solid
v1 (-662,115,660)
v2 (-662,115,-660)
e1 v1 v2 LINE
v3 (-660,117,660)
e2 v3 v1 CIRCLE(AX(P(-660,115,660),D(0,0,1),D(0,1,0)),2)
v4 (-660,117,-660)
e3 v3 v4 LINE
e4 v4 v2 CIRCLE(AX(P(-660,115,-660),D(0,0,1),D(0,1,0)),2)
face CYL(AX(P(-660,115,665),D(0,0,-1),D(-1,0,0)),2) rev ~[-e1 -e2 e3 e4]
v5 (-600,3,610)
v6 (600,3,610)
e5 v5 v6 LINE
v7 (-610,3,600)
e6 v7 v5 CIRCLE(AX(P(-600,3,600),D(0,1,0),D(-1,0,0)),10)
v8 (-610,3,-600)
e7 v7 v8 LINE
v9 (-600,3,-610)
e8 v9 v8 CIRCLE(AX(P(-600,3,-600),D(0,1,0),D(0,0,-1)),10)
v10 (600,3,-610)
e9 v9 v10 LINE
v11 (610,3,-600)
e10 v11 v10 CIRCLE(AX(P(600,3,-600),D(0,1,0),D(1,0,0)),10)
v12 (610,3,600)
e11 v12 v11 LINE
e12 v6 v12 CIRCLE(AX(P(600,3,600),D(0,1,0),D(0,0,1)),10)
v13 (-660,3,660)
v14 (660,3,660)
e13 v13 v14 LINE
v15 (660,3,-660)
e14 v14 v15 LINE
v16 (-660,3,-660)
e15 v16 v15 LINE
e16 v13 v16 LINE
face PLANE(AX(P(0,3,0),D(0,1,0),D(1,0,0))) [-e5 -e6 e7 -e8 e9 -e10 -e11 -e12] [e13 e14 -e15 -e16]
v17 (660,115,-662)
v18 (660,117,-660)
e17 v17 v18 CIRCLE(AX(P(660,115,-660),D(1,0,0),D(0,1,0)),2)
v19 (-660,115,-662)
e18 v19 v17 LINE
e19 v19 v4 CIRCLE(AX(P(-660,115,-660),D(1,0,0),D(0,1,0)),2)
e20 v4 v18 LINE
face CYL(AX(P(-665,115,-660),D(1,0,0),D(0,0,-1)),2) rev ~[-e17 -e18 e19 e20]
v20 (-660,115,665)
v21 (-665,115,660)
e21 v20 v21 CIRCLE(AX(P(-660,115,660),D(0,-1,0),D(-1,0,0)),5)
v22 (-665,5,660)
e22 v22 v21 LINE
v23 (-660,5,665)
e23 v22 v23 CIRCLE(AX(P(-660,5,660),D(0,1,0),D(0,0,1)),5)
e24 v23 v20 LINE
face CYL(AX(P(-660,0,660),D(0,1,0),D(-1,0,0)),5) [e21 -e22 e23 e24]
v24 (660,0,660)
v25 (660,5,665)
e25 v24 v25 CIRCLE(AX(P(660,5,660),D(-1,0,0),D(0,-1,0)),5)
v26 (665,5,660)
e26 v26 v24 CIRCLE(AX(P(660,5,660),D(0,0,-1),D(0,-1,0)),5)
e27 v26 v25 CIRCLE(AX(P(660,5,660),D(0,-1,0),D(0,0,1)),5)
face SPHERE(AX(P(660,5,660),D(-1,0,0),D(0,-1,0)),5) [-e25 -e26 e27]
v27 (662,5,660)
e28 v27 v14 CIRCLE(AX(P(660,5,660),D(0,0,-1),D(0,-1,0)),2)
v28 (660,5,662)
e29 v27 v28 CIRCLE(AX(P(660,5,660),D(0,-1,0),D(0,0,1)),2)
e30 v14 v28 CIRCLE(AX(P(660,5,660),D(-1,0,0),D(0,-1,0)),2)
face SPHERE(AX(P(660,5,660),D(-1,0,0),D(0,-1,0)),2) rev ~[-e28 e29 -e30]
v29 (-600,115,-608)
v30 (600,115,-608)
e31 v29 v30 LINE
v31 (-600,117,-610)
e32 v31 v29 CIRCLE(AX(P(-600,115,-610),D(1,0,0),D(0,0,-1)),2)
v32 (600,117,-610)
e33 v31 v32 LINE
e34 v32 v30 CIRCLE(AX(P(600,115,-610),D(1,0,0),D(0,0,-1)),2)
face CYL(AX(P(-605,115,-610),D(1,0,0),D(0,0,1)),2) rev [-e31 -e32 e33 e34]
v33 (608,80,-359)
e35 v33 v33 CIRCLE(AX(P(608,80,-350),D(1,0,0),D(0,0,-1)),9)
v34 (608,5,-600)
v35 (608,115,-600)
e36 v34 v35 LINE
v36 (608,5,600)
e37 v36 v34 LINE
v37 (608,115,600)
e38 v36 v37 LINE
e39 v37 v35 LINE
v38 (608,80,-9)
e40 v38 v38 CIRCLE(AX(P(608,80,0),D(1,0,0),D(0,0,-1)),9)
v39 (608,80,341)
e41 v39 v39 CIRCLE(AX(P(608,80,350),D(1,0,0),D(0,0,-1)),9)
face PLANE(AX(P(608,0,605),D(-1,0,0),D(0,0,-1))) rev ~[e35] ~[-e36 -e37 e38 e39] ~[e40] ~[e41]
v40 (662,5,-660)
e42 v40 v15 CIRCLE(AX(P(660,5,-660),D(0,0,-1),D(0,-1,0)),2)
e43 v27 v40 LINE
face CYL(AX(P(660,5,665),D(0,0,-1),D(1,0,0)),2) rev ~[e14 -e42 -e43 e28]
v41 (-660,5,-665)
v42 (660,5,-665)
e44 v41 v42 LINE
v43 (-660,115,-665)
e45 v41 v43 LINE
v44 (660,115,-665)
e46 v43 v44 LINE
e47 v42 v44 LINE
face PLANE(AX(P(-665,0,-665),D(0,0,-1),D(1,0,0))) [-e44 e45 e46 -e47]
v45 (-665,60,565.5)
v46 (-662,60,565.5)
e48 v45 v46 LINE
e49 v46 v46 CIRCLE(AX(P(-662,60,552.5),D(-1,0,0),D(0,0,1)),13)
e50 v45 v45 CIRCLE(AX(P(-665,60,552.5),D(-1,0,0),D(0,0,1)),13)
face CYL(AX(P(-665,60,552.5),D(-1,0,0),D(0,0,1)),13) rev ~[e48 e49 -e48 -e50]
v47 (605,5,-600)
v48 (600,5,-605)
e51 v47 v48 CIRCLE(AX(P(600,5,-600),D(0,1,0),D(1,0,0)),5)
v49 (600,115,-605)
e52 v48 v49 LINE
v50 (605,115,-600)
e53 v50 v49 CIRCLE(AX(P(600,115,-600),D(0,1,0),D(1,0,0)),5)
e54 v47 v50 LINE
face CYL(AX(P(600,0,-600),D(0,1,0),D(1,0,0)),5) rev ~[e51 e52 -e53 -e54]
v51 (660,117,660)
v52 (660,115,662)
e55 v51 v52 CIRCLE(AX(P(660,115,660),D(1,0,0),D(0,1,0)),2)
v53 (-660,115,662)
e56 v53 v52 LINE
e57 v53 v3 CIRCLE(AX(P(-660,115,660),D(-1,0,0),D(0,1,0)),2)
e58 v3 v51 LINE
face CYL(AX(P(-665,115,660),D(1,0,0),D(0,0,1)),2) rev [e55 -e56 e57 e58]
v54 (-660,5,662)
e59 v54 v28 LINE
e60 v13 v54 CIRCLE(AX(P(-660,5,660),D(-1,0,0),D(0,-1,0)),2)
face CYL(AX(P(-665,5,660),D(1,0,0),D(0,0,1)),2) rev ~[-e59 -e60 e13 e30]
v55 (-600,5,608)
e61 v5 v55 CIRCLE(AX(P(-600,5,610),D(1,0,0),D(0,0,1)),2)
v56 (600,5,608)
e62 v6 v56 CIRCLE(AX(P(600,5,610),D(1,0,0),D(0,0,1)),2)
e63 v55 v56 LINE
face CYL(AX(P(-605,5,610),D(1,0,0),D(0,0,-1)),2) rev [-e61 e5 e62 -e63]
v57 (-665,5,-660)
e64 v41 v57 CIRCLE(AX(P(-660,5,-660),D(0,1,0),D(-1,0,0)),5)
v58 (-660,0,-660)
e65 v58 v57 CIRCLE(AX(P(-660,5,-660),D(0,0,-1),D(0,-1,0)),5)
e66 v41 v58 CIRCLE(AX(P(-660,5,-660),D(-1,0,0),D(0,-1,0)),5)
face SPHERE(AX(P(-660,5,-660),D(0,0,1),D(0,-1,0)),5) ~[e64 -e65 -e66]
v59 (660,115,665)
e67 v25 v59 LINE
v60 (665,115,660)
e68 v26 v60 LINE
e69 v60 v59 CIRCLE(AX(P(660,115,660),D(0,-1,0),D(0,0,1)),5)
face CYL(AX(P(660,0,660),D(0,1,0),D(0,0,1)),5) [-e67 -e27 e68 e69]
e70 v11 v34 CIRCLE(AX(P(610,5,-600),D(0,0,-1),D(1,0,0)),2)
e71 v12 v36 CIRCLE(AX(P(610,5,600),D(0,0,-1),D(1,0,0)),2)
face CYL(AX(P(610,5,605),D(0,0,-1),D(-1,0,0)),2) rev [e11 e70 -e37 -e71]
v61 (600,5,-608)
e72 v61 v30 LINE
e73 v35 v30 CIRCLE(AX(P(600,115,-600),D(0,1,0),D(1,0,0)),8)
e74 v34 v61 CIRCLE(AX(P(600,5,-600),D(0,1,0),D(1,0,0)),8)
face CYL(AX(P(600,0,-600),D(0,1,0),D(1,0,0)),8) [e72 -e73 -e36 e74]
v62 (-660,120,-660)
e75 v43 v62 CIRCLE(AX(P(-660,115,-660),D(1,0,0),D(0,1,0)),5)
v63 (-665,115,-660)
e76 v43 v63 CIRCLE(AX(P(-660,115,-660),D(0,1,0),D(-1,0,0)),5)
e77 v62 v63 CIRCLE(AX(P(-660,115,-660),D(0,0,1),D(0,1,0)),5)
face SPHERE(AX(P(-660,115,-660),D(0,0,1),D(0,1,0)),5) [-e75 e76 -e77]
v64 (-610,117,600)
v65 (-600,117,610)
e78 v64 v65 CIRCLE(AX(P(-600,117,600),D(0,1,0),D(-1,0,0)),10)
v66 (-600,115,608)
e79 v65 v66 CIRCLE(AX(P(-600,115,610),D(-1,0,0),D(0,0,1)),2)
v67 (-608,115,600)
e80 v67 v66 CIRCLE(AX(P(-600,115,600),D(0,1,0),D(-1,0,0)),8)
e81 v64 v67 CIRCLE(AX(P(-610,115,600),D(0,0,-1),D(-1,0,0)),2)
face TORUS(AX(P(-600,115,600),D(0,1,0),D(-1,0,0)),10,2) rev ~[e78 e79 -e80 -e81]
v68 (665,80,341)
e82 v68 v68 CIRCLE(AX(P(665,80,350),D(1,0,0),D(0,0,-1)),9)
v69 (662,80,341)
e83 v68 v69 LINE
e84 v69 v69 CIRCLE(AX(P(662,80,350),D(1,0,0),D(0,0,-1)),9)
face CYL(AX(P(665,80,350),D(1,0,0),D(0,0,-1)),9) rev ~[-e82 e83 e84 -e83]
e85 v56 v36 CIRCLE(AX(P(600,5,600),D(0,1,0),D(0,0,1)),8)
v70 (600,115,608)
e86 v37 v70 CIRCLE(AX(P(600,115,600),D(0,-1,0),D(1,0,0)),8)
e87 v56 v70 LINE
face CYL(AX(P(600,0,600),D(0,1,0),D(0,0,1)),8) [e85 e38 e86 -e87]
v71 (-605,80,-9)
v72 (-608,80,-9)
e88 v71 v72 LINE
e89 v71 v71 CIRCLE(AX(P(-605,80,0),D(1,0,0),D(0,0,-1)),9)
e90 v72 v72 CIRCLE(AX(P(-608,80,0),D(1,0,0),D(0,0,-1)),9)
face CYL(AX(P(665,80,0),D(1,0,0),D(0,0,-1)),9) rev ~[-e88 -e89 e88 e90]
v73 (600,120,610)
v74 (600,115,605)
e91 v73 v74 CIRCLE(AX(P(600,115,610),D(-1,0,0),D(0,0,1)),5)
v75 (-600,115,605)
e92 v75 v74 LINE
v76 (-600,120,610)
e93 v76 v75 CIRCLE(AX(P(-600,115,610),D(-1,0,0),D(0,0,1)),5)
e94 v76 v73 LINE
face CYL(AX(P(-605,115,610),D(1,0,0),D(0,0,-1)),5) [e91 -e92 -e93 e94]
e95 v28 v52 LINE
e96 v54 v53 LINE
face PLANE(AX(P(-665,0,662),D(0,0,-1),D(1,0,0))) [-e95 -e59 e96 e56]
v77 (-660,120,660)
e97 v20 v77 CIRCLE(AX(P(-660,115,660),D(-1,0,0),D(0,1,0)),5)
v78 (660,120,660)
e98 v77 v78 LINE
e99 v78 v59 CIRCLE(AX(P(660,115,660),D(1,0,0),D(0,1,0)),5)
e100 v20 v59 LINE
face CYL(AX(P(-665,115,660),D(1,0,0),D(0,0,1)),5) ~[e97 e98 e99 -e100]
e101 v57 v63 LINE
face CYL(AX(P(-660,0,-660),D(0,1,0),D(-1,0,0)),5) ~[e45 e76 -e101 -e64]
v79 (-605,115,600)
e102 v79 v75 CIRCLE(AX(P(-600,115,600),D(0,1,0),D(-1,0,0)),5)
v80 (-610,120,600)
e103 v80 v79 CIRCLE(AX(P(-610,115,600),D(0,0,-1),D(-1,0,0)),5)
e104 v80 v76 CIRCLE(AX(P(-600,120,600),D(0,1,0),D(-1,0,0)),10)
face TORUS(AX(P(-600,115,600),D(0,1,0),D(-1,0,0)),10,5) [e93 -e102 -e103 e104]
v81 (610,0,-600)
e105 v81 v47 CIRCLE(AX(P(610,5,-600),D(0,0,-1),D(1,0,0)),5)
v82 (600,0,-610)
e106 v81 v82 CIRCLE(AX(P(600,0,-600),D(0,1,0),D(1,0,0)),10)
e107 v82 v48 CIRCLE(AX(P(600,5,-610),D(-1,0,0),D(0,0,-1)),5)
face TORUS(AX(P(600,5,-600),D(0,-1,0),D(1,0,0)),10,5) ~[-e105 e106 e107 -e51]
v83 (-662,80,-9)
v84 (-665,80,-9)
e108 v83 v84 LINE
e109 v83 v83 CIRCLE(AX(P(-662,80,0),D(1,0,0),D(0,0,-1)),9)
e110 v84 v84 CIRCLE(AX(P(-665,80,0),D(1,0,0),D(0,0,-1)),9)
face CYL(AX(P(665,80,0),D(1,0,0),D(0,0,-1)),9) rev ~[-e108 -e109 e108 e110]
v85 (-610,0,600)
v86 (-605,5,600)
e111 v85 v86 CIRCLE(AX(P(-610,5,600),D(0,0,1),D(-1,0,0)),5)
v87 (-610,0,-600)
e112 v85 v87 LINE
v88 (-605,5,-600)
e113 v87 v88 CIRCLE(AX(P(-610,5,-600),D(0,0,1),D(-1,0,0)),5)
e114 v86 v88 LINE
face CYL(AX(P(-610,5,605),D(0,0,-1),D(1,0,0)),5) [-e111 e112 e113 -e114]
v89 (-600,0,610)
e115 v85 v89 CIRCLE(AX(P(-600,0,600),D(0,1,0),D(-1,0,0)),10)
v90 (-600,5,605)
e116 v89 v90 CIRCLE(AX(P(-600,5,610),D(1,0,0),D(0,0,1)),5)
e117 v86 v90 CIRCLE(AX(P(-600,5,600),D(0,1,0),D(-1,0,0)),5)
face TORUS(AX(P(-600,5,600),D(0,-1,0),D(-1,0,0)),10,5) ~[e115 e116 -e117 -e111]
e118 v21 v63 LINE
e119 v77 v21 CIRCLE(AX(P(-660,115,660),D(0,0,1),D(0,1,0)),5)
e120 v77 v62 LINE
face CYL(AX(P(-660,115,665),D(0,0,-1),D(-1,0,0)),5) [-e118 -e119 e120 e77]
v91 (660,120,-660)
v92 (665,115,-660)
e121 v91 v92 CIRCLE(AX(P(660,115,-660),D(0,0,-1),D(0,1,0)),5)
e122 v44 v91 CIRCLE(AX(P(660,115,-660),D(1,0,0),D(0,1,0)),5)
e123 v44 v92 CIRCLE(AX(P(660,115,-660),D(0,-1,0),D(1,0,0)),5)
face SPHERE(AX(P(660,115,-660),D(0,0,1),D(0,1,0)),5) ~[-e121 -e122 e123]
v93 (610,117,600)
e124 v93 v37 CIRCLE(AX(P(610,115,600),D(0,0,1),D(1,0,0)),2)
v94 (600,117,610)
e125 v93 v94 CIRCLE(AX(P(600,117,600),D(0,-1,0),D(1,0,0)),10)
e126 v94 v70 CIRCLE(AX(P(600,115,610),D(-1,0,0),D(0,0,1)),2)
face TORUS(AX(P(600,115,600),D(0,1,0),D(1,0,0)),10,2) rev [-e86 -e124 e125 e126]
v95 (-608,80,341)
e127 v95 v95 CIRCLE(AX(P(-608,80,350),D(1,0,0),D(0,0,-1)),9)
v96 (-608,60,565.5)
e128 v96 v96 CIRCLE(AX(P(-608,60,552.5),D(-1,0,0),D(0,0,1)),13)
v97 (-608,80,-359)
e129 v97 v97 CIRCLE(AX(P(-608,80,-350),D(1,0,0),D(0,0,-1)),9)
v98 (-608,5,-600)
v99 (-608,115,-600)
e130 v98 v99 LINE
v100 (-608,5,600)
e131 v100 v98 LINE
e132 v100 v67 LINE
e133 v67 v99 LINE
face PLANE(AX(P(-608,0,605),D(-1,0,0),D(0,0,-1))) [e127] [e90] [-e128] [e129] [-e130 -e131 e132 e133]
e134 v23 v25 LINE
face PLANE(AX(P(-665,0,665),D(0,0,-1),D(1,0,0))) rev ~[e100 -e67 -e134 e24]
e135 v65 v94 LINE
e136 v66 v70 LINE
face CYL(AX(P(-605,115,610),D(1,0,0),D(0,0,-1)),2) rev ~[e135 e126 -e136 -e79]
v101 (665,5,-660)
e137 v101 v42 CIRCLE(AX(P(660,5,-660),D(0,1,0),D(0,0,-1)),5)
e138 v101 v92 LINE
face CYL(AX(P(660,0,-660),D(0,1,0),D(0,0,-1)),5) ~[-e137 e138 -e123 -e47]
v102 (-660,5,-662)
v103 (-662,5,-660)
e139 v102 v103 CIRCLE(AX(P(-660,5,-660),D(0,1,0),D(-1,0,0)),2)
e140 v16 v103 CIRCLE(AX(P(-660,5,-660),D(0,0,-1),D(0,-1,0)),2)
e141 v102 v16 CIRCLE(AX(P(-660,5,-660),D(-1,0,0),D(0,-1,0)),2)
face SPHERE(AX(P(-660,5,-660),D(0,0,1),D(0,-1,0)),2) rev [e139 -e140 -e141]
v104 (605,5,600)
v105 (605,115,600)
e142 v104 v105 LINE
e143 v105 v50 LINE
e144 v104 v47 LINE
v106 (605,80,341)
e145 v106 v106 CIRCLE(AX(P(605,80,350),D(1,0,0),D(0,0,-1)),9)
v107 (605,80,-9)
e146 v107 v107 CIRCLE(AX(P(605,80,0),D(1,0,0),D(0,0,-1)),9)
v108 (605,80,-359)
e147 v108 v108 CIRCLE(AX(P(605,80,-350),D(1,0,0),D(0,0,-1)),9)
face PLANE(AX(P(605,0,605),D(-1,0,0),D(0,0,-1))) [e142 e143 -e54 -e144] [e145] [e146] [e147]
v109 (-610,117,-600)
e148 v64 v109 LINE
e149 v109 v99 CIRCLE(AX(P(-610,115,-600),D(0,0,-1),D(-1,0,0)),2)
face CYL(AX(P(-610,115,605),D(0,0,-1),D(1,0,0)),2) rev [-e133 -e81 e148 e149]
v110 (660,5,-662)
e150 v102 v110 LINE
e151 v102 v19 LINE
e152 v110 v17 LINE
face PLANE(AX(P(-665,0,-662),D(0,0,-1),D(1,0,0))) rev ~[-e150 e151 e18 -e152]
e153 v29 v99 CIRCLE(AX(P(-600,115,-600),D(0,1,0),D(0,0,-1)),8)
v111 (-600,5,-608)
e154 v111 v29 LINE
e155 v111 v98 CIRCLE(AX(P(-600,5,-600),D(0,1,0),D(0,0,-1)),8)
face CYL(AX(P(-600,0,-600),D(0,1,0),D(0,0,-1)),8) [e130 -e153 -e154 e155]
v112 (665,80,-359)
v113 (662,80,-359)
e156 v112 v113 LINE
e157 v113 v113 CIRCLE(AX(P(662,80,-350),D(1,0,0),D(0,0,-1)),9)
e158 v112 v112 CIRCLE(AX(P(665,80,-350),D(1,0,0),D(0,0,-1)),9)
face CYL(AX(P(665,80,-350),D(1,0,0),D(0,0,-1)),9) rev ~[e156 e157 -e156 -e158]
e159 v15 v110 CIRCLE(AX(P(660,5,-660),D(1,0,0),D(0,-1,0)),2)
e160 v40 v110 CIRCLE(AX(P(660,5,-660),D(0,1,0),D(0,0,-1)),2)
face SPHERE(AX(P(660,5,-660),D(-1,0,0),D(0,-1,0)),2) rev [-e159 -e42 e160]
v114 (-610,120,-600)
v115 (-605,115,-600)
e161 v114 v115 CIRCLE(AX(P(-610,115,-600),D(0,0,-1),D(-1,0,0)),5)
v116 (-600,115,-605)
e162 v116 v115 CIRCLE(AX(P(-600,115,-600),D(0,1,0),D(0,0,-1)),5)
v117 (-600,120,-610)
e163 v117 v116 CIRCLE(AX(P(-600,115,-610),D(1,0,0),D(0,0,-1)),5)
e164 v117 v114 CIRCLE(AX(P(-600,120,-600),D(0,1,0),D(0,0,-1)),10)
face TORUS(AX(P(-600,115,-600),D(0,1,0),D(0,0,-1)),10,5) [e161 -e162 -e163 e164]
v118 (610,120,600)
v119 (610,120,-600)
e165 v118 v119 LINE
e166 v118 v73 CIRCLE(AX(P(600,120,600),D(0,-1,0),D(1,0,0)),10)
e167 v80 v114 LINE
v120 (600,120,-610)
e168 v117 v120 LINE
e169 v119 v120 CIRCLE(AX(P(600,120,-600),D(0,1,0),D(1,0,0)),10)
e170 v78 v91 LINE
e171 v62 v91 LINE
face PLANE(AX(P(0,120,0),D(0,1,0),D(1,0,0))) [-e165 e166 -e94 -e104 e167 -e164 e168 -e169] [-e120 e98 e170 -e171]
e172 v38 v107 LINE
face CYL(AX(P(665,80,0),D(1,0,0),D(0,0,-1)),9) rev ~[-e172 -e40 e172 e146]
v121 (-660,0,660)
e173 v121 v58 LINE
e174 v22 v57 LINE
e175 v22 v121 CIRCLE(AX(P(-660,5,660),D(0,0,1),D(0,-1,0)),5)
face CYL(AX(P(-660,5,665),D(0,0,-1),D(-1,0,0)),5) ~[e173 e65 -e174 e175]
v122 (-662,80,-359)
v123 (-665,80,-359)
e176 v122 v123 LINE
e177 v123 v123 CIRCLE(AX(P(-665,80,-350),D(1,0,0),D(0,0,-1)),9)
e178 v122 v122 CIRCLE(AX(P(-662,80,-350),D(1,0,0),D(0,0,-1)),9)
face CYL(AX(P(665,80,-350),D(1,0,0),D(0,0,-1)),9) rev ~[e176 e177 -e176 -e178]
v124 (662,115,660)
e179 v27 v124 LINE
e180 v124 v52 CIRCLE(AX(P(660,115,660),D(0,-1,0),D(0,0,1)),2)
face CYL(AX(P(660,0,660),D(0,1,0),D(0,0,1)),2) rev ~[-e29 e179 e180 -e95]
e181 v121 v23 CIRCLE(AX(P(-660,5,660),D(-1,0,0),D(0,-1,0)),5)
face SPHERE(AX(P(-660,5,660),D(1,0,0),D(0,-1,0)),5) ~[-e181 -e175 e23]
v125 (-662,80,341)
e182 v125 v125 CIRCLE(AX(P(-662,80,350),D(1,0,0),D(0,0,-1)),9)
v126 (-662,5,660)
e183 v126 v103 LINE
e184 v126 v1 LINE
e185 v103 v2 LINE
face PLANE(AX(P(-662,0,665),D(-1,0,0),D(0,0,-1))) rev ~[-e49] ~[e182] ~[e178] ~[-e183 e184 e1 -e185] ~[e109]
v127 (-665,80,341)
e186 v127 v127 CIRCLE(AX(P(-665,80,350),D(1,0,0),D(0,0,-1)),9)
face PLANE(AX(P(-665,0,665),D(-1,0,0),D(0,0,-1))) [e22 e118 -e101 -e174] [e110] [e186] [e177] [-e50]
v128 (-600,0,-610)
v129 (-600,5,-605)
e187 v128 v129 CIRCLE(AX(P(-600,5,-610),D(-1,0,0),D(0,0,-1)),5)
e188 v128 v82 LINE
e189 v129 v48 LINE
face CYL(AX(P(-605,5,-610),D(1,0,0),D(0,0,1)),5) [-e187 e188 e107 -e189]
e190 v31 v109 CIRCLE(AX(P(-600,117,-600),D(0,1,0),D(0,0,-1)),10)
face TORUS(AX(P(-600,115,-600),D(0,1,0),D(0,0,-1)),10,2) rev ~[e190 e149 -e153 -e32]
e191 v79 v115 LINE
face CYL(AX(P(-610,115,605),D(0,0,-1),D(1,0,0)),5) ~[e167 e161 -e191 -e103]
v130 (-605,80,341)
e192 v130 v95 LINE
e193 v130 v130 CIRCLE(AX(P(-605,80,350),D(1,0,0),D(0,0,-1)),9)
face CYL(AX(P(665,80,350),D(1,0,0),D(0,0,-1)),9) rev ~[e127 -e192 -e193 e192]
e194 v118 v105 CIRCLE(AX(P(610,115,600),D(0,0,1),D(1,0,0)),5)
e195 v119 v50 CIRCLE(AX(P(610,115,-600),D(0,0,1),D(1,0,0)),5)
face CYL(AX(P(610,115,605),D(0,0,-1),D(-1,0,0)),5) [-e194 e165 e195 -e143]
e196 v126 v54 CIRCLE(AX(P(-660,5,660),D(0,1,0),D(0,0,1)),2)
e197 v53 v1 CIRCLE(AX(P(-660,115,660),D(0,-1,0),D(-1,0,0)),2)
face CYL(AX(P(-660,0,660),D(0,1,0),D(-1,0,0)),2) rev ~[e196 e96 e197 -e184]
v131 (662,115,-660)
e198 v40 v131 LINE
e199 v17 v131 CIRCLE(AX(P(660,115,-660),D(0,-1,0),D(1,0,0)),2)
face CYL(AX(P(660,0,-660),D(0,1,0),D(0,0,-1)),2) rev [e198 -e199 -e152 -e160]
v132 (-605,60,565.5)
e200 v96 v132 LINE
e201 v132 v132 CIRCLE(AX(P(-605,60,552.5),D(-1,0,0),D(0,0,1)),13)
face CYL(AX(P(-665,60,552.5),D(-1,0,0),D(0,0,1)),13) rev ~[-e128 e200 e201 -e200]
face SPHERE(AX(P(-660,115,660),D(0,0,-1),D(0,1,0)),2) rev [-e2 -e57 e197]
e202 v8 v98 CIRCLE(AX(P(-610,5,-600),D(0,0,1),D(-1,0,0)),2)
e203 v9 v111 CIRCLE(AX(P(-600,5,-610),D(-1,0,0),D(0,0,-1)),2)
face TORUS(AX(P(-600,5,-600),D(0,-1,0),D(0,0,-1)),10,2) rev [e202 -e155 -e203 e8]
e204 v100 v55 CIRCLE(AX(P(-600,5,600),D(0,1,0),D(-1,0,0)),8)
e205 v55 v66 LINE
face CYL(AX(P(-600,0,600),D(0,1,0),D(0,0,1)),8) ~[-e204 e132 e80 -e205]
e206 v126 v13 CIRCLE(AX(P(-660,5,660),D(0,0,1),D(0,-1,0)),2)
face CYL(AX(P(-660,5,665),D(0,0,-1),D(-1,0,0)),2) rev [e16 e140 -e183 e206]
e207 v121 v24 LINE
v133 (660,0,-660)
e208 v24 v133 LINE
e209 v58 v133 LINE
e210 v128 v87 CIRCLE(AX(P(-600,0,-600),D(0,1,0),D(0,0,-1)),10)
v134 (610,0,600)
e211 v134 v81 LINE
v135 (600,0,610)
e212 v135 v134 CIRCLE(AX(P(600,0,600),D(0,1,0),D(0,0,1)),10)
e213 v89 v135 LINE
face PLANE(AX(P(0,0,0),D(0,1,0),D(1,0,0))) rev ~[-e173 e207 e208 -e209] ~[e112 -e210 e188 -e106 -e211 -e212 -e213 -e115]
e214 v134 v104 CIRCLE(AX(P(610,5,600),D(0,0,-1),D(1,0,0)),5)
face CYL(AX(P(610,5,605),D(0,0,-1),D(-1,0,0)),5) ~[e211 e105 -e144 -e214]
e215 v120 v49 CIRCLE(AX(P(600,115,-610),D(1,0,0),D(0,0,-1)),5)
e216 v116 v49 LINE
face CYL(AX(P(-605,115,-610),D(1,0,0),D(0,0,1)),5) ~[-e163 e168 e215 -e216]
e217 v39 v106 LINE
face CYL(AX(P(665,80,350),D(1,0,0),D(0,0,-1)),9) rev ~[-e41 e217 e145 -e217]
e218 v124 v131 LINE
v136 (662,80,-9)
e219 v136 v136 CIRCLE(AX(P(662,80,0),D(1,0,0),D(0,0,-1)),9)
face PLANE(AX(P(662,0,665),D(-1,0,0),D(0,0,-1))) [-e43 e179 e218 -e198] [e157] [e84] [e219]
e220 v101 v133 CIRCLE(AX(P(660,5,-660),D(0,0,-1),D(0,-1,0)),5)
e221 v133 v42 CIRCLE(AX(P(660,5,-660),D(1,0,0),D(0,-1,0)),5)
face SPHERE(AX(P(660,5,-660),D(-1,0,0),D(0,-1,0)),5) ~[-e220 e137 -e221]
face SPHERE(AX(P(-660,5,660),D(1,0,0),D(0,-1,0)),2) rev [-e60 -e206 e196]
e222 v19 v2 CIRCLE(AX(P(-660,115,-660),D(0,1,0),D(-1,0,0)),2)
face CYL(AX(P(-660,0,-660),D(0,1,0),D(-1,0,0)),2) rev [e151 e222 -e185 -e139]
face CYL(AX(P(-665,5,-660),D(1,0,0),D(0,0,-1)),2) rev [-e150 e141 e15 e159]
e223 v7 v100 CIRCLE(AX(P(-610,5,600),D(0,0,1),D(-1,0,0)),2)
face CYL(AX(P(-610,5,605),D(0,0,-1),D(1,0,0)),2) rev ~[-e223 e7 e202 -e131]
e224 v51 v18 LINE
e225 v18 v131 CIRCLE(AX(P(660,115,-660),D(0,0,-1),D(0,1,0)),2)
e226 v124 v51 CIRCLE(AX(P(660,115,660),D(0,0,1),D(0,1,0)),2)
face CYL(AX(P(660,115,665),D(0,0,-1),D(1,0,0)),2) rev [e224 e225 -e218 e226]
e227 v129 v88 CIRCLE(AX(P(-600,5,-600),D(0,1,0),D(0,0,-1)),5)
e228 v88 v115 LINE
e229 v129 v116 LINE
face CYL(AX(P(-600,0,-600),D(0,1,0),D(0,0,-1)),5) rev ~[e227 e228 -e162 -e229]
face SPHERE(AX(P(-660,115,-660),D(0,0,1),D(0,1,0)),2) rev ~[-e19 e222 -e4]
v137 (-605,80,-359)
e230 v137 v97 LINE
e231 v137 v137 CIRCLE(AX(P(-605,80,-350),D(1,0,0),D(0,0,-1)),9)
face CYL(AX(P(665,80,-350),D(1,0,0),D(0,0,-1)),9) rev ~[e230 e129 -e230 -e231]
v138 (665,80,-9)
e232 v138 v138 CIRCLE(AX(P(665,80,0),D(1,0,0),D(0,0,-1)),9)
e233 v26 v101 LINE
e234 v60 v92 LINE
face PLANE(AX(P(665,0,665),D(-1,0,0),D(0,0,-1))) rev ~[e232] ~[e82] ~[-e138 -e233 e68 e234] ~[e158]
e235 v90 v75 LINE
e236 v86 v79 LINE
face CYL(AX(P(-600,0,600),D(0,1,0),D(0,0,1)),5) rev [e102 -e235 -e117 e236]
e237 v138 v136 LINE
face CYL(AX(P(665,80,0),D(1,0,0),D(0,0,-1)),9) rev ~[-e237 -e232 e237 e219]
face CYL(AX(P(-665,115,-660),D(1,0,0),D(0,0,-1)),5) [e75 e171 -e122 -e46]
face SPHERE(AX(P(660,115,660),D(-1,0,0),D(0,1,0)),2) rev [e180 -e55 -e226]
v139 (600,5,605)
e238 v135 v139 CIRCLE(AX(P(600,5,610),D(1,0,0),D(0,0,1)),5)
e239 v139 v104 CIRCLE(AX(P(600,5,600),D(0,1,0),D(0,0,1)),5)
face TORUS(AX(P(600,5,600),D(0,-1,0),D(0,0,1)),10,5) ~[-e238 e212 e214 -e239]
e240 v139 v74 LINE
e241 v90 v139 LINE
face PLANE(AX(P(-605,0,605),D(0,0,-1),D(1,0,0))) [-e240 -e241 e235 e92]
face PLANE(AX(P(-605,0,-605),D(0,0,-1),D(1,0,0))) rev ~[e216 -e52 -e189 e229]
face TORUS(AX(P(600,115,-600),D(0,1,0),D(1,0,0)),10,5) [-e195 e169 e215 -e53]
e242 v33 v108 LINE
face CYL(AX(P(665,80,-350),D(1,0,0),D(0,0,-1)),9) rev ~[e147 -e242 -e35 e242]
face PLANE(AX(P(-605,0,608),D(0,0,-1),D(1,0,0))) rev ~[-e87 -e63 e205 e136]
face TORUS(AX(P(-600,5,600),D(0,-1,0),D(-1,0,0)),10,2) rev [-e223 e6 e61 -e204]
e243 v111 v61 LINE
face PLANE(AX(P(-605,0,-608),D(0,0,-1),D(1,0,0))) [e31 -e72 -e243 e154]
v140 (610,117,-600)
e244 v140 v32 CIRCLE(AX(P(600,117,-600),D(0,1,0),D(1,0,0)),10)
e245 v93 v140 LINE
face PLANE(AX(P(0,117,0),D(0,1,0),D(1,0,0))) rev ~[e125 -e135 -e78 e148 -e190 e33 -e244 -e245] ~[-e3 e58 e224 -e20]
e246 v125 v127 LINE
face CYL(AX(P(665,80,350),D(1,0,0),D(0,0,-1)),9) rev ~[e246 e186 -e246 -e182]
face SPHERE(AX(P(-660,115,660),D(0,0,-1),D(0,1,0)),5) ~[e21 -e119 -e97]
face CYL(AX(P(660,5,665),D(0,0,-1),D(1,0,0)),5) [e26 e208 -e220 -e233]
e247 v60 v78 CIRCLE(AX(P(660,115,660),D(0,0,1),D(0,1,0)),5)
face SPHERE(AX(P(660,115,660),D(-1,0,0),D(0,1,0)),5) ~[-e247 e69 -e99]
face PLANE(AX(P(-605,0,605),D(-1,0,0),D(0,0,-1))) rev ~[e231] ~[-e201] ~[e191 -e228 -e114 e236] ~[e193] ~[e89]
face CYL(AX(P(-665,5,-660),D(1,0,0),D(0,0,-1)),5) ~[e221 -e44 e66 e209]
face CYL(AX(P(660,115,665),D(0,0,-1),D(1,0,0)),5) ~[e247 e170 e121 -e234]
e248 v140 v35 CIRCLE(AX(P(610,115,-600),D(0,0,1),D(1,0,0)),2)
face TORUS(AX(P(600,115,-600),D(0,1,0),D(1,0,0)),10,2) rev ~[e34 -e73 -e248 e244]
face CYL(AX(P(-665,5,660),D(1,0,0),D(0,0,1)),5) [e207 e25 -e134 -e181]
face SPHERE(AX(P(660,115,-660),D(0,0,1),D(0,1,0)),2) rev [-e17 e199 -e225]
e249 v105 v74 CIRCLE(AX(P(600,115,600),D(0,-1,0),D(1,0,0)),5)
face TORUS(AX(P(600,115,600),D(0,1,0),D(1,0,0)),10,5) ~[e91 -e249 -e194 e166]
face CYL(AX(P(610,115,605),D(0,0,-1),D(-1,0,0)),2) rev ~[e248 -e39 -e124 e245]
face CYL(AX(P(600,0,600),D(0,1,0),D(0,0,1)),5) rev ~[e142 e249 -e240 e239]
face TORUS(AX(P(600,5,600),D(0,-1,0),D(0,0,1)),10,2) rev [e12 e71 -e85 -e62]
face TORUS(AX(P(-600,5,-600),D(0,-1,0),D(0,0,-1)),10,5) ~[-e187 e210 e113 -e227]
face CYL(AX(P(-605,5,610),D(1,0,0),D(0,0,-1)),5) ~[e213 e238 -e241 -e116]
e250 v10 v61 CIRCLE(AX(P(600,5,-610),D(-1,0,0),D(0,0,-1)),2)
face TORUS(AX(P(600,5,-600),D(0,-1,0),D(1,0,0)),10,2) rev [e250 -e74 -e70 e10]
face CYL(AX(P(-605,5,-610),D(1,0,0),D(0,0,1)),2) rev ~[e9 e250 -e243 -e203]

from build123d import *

# Parameters (mm, degrees)
SKETCH1_W           = 1330
SKETCH1_H           = 1330
SKETCH1_W_2         = 1210
SKETCH1_H_2         = 1210
BOSS_EXTRUDE1_DEPTH = 120
FILLET1_R           = 5
SHELL1_T            = 3
SKETCH3_R           = 9
CUT_EXTRUDE1_DEPTH  = 1331
SKETCH4_R           = 13
CUT_EXTRUDE2_DEPTH  = 60


with BuildPart() as part:
    # Sketch1 → Boss-Extrude1 (new body)
    with BuildSketch(Plane(origin=(0, 0, 0), x_dir=(1, 0, 0), z_dir=(0, 1, 0))):
        Rectangle(SKETCH1_W, SKETCH1_H)
        Rectangle(SKETCH1_W_2, SKETCH1_H_2, mode=Mode.SUBTRACT)
    extrude(amount=BOSS_EXTRUDE1_DEPTH)

    # Fillet1
    fillet1_edges = [part.edges().sort_by_distance(p)[0] for p in [
        (-665, 120, 0),
        (0, 120, 665),
        (605, 0, 0),
        (605, 60, 605),
        (0, 0, -605),
        (605, 60, -605),
        (-605, 0, 0),
        (-605, 60, -605),
        (0, 0, 605),
        (-605, 60, 605),
        (605, 120, 0),
        (0, 120, -605),
        (-605, 120, 0),
        (0, 120, 605),
        (665, 120, 0),
        (0, 0, 665),
        (-665, 0, 0),
        (0, 0, -665),
        (665, 0, 0),
        (0, 120, -665),
        (665, 60, 665),
        (-665, 60, 665),
        (-665, 60, -665),
        (665, 60, -665),
    ]]
    fillet(fillet1_edges, radius=FILLET1_R)

    # Shell1 (no face opened: a closed hollow body)
    add(offset(amount=-SHELL1_T, mode=Mode.PRIVATE), mode=Mode.SUBTRACT)

    # Sketch3 → Cut-Extrude1 (cut, through all)
    with BuildSketch(Plane(origin=(665, 0, 0), x_dir=(0, 0, -1), z_dir=(1, 0, 0))):
        with Locations((350, 80)):
            Circle(SKETCH3_R)
        with Locations((0, 80)):
            Circle(SKETCH3_R)
        with Locations((-350, 80)):
            Circle(SKETCH3_R)
    extrude(amount=-CUT_EXTRUDE1_DEPTH, mode=Mode.SUBTRACT)

    # Sketch4 → Cut-Extrude2 (cut)
    with BuildSketch(Plane.ZY.offset(665)):
        with Locations((552.5, 60)):
            Circle(SKETCH4_R)
    extrude(amount=-CUT_EXTRUDE2_DEPTH, mode=Mode.SUBTRACT)


solid = part.part
